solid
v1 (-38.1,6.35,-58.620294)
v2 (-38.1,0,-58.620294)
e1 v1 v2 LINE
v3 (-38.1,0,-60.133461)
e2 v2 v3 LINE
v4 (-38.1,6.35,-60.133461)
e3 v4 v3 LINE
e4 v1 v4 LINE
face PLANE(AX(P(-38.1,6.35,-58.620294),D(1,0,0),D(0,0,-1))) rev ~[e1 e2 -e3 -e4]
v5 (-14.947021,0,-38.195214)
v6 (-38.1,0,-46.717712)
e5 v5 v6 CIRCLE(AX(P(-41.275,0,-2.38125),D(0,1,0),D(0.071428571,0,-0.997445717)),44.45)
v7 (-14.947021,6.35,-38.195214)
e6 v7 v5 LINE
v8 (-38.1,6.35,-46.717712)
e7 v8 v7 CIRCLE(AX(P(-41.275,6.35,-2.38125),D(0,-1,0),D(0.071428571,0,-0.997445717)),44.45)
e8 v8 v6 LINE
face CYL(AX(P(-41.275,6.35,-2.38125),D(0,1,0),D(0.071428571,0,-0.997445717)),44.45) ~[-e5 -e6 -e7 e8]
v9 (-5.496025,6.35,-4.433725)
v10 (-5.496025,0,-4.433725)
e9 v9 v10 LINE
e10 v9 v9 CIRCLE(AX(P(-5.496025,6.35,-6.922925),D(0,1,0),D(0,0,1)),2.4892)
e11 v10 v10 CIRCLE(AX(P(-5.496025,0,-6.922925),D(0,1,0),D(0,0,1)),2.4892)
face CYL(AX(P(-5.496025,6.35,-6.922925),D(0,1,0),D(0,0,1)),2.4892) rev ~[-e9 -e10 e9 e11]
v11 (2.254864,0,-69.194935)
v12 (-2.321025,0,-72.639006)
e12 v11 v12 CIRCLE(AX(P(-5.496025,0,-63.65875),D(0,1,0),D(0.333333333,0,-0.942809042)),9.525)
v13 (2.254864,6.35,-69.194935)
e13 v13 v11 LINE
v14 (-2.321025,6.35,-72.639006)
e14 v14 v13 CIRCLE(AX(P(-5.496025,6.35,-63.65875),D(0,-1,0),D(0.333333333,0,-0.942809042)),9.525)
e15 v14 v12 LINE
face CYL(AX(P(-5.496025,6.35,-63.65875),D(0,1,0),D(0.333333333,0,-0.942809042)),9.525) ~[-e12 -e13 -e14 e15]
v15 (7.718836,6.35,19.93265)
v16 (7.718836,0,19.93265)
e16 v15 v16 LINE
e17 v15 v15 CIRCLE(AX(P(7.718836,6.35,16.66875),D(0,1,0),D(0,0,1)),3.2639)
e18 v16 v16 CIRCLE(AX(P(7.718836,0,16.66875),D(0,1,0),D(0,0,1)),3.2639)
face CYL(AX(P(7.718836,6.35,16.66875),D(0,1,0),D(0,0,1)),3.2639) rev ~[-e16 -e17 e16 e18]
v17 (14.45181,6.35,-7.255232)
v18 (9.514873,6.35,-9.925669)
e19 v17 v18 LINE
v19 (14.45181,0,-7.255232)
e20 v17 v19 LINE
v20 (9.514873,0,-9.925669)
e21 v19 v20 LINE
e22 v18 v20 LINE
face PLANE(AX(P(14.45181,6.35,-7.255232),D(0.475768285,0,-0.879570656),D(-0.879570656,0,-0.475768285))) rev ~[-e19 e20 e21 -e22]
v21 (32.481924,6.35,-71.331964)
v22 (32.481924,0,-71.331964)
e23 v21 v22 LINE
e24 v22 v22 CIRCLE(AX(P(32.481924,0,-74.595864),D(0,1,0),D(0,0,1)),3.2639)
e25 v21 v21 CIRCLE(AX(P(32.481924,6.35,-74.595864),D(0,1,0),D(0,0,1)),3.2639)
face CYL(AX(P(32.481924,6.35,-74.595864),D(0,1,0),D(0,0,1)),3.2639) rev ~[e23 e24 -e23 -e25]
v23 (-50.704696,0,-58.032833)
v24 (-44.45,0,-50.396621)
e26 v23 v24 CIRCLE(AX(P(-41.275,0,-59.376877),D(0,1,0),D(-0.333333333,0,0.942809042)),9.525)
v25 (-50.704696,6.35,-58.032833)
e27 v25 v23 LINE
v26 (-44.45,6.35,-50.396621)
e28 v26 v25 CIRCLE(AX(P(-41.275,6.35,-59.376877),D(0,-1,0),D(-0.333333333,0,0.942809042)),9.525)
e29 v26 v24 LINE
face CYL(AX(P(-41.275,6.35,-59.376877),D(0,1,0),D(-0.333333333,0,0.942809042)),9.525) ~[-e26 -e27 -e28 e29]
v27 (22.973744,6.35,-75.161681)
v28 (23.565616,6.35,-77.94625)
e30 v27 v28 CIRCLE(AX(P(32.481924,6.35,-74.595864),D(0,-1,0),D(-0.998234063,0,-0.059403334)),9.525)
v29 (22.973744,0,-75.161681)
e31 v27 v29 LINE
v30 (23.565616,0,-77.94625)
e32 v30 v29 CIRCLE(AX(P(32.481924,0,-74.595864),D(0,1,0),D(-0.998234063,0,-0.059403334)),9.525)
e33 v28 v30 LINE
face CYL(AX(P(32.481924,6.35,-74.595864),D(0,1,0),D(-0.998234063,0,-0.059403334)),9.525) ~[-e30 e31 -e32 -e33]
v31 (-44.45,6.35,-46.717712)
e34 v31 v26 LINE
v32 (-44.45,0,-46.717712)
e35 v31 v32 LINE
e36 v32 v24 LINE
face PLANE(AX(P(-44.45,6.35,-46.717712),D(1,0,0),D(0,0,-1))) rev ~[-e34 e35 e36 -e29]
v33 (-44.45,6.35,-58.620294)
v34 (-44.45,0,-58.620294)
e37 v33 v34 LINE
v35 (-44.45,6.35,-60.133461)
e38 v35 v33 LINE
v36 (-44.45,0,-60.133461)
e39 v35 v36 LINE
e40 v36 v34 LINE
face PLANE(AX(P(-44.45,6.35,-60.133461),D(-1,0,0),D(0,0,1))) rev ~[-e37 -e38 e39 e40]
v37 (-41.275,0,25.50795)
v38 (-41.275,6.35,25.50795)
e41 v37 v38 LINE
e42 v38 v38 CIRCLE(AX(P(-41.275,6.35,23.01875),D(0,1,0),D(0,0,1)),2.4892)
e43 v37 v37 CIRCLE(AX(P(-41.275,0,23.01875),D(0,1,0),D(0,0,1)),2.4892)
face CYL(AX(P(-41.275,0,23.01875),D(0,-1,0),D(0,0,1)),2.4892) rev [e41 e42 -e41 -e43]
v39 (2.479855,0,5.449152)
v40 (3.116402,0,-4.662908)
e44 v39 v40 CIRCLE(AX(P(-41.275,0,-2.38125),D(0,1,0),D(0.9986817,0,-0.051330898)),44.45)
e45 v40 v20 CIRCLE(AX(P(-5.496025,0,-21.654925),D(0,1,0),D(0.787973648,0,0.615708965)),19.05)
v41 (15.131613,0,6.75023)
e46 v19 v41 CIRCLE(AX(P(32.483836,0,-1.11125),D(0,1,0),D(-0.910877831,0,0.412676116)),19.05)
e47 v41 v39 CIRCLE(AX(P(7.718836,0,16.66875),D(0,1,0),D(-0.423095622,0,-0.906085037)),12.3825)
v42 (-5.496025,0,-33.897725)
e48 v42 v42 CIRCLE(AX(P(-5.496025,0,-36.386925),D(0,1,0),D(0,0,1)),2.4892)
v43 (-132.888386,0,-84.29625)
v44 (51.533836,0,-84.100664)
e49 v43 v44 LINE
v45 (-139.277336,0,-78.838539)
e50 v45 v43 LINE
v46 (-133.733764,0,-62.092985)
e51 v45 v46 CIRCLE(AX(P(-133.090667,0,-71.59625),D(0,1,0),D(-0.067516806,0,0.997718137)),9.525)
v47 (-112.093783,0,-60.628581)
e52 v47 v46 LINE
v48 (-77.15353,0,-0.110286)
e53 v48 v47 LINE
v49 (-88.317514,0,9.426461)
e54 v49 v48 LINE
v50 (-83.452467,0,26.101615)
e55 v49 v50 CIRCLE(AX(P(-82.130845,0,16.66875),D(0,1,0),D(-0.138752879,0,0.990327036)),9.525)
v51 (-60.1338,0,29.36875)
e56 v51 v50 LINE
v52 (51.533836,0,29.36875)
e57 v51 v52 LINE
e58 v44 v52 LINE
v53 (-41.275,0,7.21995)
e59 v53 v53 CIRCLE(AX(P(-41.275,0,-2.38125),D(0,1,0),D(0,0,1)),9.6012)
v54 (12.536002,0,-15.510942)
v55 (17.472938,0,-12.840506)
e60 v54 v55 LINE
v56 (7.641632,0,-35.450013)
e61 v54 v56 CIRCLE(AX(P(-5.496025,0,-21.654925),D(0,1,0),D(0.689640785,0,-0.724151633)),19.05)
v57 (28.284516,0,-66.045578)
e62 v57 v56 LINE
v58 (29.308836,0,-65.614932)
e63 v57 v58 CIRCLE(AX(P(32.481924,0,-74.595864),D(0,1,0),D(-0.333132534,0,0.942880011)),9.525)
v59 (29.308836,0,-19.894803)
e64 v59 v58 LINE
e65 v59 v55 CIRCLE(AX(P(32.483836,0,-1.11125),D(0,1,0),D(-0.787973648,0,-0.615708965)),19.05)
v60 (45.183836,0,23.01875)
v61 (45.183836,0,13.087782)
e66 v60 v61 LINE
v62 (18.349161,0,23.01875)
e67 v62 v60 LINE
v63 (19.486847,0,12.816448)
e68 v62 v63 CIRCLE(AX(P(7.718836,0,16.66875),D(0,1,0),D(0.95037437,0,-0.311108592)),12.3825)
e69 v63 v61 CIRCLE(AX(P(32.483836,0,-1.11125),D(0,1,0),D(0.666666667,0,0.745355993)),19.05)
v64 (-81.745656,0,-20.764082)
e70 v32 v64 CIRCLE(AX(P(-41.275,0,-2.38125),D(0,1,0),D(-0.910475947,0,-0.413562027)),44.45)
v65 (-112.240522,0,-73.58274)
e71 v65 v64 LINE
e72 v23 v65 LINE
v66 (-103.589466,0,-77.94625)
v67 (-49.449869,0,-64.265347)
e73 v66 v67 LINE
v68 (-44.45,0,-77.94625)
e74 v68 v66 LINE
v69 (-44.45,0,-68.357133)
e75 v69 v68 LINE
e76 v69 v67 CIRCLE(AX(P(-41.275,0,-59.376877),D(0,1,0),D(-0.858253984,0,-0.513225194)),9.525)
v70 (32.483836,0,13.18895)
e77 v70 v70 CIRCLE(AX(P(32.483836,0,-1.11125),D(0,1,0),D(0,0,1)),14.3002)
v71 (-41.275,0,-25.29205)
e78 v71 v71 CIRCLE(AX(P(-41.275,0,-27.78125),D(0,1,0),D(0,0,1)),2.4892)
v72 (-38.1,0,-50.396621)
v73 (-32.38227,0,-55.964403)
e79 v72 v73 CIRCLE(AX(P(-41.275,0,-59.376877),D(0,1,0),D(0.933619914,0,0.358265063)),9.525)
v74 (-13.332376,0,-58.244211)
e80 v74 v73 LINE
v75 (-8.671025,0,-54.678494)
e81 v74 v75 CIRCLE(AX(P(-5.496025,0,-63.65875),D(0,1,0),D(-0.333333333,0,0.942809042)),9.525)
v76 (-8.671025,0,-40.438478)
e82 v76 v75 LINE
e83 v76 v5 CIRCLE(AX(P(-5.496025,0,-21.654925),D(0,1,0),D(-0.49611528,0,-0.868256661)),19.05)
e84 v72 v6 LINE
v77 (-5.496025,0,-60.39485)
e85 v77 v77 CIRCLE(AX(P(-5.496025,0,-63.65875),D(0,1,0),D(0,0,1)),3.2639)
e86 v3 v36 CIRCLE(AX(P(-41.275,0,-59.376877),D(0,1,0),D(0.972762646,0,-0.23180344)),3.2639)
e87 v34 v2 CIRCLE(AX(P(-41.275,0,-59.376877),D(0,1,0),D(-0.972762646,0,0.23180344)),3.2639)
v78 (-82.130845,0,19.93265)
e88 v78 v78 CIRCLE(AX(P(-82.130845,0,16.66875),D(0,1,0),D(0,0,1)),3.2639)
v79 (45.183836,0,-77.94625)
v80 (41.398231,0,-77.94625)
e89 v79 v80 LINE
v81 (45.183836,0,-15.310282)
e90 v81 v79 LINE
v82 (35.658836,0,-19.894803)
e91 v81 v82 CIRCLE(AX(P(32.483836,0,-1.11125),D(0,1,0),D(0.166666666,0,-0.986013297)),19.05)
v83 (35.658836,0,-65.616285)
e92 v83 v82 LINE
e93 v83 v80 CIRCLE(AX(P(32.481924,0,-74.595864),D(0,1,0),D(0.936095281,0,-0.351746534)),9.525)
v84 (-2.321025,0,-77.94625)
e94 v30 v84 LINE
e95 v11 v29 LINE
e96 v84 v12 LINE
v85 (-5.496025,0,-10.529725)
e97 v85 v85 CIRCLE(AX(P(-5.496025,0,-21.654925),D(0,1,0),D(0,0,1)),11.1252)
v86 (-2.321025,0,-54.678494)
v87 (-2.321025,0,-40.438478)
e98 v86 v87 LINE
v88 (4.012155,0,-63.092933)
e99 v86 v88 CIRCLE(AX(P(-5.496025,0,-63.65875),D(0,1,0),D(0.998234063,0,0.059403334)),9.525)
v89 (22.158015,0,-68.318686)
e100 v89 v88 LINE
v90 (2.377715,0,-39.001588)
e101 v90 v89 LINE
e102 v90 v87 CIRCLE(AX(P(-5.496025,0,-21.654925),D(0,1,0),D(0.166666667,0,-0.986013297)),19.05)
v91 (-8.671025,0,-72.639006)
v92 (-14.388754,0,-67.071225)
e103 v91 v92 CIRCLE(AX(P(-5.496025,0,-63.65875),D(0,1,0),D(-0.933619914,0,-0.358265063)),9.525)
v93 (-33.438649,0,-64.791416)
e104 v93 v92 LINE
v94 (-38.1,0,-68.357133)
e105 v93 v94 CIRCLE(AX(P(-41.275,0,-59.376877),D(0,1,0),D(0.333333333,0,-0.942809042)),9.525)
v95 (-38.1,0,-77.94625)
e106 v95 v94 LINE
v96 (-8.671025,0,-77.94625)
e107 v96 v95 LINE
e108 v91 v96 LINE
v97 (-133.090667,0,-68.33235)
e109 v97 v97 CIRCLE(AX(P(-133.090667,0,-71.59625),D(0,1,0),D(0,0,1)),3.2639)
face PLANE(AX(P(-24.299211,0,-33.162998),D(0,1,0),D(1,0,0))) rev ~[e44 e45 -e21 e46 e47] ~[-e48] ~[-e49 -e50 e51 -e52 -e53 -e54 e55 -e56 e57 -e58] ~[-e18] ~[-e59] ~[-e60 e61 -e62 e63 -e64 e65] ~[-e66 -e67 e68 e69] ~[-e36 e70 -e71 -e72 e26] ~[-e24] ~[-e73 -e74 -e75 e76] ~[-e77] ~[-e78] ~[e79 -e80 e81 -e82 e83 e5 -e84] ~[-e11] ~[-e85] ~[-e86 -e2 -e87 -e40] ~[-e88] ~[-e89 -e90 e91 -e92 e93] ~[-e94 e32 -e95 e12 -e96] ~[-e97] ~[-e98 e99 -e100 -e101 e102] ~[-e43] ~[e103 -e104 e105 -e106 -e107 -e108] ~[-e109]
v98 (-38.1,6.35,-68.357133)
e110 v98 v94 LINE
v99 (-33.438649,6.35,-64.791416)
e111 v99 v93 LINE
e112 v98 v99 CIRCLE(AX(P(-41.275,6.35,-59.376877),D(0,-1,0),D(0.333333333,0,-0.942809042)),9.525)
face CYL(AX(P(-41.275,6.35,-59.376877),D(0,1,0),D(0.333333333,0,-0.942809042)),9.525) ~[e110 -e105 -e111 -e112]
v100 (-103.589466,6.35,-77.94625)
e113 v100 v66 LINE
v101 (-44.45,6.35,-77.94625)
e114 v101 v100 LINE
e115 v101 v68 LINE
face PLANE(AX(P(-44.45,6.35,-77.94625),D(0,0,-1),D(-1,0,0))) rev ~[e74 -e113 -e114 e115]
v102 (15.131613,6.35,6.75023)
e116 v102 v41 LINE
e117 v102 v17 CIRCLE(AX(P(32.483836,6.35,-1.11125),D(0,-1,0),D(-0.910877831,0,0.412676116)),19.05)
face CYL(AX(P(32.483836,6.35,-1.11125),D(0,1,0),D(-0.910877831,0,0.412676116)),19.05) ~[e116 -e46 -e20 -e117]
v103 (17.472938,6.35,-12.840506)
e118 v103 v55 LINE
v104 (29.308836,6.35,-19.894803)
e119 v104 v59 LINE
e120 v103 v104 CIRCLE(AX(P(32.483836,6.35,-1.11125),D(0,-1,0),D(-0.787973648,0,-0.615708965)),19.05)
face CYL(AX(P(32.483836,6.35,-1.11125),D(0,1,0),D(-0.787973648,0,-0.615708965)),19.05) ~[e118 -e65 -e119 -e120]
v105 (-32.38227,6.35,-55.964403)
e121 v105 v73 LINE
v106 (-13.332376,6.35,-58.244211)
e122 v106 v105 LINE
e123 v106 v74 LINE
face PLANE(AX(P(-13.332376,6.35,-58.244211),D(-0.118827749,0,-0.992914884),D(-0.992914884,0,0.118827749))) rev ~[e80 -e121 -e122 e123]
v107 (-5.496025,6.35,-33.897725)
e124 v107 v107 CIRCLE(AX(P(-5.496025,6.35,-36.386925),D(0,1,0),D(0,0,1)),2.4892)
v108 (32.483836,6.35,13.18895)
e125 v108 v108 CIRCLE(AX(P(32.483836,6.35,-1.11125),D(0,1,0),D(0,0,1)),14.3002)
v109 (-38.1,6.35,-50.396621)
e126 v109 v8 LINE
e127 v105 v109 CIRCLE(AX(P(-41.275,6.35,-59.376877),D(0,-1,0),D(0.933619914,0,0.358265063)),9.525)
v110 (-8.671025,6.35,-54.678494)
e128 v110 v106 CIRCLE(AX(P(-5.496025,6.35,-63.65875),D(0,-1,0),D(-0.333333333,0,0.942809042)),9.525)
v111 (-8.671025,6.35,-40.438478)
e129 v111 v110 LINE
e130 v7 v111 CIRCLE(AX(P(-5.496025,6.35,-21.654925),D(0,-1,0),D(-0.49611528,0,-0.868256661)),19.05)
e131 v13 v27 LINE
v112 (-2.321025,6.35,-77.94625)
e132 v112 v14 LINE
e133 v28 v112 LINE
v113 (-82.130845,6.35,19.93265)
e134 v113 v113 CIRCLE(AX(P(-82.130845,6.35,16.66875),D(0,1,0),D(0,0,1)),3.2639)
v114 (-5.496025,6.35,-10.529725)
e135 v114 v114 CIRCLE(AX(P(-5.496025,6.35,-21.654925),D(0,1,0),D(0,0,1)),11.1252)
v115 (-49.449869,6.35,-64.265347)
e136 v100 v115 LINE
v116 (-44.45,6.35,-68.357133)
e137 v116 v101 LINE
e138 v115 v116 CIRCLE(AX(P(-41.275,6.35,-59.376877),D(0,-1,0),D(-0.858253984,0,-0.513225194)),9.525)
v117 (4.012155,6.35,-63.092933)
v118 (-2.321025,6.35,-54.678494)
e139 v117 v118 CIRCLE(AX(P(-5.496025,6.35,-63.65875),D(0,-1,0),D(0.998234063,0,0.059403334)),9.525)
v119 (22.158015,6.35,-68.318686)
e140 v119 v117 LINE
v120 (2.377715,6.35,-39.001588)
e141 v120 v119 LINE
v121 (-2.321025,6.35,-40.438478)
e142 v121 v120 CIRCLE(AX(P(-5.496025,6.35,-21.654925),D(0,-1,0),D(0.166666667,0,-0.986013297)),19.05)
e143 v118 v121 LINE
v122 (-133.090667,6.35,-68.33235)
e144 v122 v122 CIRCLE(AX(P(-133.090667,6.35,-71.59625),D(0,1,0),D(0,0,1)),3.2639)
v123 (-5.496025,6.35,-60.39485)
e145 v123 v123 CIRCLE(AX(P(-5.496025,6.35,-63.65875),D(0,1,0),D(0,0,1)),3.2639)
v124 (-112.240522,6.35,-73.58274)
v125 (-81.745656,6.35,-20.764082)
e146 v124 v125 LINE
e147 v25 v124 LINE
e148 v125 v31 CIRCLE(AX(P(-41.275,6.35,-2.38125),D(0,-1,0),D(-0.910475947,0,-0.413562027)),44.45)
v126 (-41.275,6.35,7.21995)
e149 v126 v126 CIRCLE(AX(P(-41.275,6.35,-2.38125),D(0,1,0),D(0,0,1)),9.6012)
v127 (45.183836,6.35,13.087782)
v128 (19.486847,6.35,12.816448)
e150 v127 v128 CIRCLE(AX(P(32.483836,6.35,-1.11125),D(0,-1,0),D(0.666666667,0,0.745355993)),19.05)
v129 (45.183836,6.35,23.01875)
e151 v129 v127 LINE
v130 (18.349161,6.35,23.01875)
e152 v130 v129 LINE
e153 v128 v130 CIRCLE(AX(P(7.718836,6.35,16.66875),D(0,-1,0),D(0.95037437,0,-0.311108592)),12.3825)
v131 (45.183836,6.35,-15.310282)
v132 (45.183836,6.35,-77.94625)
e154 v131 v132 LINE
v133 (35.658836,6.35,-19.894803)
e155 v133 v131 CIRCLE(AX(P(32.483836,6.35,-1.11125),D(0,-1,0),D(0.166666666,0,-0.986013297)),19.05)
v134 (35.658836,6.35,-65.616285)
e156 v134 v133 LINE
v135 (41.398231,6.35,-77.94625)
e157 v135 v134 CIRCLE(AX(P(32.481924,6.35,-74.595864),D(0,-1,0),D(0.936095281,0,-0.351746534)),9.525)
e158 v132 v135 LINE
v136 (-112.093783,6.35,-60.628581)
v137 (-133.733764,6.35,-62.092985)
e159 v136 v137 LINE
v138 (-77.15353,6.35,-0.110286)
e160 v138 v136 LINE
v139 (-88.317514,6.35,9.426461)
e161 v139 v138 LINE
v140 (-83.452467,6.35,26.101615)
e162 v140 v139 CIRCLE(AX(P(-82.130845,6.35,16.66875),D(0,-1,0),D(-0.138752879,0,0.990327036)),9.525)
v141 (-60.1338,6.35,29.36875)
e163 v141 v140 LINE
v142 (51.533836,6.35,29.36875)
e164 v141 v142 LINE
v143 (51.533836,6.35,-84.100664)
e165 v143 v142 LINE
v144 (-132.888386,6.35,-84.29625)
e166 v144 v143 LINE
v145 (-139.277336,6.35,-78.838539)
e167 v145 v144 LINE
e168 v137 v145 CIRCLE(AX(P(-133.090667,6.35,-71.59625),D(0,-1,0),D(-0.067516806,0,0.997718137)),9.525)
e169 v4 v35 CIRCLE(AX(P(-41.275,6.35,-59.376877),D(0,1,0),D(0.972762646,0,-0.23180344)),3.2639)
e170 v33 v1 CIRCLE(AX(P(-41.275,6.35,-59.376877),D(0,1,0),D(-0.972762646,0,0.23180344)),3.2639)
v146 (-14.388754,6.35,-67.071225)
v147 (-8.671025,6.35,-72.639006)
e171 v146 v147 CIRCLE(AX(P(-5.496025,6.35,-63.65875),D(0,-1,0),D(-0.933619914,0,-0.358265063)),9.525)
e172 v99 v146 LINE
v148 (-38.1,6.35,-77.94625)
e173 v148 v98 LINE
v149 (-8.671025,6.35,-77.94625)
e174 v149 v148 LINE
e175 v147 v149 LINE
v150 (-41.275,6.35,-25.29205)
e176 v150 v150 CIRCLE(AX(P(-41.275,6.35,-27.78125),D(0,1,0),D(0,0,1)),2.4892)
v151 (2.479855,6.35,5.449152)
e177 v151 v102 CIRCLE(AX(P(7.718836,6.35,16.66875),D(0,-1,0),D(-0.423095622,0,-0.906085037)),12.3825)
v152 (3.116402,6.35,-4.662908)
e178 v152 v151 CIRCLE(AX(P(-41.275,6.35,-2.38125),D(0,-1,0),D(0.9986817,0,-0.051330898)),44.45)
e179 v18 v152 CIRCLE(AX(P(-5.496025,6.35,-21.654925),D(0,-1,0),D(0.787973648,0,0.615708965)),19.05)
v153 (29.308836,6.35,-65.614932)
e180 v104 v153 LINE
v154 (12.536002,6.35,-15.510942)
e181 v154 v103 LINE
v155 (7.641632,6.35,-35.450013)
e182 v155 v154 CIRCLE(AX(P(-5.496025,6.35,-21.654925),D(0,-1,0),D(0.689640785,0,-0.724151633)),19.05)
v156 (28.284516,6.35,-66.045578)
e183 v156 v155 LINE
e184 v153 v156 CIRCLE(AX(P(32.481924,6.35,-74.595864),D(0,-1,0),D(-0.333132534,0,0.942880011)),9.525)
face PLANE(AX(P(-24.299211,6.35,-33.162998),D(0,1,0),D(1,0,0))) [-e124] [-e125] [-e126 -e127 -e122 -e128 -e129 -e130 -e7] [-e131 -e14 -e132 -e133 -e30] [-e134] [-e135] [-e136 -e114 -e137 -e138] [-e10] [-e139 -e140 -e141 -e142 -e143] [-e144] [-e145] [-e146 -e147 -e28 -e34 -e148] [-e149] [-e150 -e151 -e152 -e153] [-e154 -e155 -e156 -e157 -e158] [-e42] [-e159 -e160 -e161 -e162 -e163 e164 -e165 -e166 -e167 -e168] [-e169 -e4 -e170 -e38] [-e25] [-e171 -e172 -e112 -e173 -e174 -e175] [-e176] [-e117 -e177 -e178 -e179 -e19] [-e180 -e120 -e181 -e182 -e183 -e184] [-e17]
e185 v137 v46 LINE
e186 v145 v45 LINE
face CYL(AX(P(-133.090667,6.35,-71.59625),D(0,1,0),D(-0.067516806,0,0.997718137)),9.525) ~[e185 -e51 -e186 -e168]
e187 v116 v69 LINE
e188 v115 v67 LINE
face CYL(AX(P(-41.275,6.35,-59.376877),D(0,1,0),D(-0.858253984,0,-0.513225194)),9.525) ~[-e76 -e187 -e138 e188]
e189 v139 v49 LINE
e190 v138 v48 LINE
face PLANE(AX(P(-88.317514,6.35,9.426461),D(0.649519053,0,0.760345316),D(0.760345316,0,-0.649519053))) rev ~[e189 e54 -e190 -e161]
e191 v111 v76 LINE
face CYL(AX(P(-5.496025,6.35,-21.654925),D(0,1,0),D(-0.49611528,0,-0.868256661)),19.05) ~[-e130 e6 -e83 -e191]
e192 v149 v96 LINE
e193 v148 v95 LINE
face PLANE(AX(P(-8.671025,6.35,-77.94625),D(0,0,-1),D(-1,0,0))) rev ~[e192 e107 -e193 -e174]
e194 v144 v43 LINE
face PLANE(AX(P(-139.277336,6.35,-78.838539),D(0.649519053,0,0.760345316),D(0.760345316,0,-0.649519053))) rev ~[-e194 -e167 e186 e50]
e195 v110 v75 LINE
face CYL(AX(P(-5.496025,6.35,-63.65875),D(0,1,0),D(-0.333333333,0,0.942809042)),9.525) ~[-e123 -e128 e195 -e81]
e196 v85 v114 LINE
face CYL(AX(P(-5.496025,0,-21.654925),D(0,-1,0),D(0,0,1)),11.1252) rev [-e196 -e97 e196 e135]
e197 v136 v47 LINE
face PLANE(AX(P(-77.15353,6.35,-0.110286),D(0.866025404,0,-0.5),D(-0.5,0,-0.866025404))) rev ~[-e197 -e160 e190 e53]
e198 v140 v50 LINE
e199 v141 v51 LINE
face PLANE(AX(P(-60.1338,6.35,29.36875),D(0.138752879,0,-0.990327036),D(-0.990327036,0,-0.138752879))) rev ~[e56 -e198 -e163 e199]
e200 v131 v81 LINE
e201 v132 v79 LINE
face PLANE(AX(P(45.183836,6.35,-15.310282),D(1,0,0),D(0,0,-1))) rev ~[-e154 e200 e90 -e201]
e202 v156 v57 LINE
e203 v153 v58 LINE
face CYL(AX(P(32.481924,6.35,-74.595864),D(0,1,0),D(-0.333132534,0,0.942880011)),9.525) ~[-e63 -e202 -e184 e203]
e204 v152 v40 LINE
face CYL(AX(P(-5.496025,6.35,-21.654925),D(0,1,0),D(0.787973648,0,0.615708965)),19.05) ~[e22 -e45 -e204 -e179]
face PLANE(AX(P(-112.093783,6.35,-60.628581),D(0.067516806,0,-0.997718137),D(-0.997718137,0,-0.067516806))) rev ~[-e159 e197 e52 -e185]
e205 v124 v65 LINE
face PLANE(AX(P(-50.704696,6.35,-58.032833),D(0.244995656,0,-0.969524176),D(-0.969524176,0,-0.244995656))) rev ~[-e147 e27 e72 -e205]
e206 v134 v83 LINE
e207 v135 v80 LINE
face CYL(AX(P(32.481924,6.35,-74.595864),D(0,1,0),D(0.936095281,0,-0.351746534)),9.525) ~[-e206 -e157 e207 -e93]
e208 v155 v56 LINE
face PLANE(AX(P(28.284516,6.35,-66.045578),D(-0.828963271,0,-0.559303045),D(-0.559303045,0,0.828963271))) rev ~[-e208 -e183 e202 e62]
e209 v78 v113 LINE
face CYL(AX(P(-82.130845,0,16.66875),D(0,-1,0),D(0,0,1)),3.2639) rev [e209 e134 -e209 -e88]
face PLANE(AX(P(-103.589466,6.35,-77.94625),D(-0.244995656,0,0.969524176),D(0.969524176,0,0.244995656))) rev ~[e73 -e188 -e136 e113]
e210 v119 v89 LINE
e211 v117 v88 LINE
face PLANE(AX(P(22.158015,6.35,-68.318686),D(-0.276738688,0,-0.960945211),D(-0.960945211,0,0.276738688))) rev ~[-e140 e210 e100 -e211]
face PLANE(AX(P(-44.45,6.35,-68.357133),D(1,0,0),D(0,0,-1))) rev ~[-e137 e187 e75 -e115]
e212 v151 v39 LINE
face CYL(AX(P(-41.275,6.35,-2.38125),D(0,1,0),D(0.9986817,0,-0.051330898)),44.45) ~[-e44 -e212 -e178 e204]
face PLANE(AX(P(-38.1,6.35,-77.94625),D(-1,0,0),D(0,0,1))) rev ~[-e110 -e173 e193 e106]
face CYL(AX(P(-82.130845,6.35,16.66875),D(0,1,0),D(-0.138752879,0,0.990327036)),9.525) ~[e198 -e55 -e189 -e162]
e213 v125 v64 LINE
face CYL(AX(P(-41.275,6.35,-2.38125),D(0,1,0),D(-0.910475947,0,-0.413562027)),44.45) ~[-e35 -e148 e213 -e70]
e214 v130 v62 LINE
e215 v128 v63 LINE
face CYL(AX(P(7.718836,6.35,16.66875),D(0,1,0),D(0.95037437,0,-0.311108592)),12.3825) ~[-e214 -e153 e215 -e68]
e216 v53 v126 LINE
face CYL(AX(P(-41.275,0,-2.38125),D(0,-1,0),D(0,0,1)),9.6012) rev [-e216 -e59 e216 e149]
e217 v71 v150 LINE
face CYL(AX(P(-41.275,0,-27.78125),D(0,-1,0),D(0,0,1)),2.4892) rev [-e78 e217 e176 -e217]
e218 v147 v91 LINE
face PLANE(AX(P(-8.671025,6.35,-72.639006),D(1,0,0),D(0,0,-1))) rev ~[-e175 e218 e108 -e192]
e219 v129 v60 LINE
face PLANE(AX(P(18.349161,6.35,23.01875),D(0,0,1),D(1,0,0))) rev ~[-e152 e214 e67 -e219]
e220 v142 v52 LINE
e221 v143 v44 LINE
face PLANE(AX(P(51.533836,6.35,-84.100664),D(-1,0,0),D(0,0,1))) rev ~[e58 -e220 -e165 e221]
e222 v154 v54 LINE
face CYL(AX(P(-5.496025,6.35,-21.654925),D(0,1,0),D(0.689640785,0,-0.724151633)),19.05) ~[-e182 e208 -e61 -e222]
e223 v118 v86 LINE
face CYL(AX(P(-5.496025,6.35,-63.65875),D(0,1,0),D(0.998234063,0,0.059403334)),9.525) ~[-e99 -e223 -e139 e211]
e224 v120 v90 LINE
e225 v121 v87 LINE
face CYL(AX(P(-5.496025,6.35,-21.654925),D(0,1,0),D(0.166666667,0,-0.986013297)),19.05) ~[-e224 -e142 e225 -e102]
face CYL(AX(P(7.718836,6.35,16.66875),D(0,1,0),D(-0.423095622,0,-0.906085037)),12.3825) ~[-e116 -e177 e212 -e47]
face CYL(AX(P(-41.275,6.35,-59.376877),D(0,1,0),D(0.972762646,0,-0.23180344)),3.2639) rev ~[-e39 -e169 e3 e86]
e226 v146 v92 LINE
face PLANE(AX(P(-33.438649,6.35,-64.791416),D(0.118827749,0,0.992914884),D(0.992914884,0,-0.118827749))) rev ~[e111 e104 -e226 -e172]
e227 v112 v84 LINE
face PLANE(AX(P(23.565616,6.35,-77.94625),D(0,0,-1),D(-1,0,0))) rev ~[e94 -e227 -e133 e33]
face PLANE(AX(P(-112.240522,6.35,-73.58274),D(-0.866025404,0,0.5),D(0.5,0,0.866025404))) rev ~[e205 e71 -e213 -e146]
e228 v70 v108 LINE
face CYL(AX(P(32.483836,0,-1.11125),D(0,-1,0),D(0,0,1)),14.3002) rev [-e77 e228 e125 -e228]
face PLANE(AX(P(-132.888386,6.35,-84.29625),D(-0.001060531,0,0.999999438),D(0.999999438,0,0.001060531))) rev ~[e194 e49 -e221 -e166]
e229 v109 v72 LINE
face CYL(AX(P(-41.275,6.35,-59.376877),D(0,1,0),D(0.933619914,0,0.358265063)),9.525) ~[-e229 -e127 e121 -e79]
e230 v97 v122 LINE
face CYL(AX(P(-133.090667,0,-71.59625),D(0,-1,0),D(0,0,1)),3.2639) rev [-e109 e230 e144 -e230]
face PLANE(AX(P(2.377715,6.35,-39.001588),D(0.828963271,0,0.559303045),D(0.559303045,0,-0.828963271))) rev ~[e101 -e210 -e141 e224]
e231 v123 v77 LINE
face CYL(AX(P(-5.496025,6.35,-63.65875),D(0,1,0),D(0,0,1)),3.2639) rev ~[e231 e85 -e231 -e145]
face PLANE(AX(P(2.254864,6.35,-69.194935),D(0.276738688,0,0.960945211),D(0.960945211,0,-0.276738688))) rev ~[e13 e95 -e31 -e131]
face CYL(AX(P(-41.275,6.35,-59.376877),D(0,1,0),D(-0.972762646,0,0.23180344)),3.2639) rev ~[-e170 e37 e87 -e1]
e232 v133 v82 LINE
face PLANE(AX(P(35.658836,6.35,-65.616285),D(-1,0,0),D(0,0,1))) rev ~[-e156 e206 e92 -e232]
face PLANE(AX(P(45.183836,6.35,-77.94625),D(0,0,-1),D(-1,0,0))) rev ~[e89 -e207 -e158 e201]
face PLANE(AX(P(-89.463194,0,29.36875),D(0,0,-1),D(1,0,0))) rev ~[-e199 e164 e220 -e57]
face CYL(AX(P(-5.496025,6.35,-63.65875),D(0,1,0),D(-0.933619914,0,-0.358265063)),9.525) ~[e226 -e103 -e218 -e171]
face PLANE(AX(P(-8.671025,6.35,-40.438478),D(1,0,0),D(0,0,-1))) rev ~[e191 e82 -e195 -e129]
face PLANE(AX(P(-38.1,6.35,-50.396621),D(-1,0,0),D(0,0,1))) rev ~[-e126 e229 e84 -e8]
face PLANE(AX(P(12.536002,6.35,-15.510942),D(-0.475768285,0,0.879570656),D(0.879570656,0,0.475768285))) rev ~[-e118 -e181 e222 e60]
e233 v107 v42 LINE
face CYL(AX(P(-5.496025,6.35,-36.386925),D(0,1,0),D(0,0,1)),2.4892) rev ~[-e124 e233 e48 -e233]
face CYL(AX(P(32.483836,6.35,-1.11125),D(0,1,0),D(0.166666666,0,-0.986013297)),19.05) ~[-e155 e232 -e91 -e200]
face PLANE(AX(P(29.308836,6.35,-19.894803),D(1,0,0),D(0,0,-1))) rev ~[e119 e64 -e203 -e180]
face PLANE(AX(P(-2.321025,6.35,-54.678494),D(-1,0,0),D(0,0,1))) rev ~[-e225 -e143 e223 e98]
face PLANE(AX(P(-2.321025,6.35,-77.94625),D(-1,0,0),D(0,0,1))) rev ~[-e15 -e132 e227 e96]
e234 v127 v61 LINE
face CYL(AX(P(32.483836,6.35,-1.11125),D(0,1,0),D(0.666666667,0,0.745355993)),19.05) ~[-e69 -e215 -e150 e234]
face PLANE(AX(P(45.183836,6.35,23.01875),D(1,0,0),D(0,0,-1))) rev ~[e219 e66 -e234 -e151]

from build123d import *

# Parameters (mm, degrees)
SKETCH2_R           = 9.6012
SKETCH2_R_2         = 2.4892
SKETCH2_R_3         = 3.2639
SKETCH2_R_4         = 11.1252
SKETCH2_R_5         = 14.3002
SKETCH2_R_6         = 2.413
BOSS_EXTRUDE1_DEPTH = 6.35
SKETCH3_R           = 3.2639
SKETCH3_R_2         = 2.413
SKETCH3_R_3         = 2.4892
CUT_EXTRUDE1_DEPTH  = 177.630627937


with BuildPart() as part:
    # Sketch2 → Boss-Extrude1 (new body)
    with BuildSketch(Plane(origin=(0, 0, 0), x_dir=(1, 0, 0), z_dir=(0, 1, 0))):
        Polygon((-155.087712155, 84.29625), (-89.463193808, -29.36875), (82.46904885, -29.36875), (82.46904885, 84.29625), align=None)
        with Locations(Location((-41.275, 2.38125, 0), (0, 0, 270))):
            Circle(SKETCH2_R, mode=Mode.SUBTRACT)
        with Locations(Location((-41.275, 27.78125, 0), (0, 0, 270))):
            Circle(SKETCH2_R_2, mode=Mode.SUBTRACT)
        with Locations(Location((-41.275, -23.01875, 0), (0, 0, 270))):
            Circle(SKETCH2_R_2, mode=Mode.SUBTRACT)
        with Locations(Location((-82.130845389, -16.66875, 0), (0, 0, 270))):
            Circle(SKETCH2_R_3, mode=Mode.SUBTRACT)
        with Locations(Location((-133.090666899, 71.59625, 0), (0, 0, 270))):
            Circle(SKETCH2_R_3, mode=Mode.SUBTRACT)
        with Locations(Location((-5.496024757, 21.654924548, 0), (0, 0, 270))):
            Circle(SKETCH2_R_4, mode=Mode.SUBTRACT)
        with Locations(Location((32.48383617, 1.11125, 0), (0, 0, 270))):
            Circle(SKETCH2_R_5, mode=Mode.SUBTRACT)
        with Locations(Location((61.774869917, 67.406835627, 0), (0, 0, 270))):
            Circle(SKETCH2_R_6, mode=Mode.SUBTRACT)
        with Locations(Location((76.11904885, -23.01875, 0), (0, 0, 270))):
            Circle(SKETCH2_R_3, mode=Mode.SUBTRACT)
    extrude(amount=BOSS_EXTRUDE1_DEPTH)

    # Sketch3 → Cut-Extrude1 (cut, through all)
    # profile 1 of 18: a face of its own
    with BuildSketch(Plane(origin=(0, 6.35, 0), x_dir=(1, 0, 0), z_dir=(0, 1, 0))):
        with BuildLine():
            Line((-50.704696238, 58.032833483), (-112.240521983, 73.58273966))
            Line((-112.240521983, 73.58273966), (-81.745655831, 20.764082115))
            ThreePointArc((-81.745655831, 20.764082115), (-66.664634619, 38.866438144), (-44.45, 46.717712139))
            Line((-44.45, 46.717712139), (-44.45, 50.396621207))
            ThreePointArc((-44.45, 50.396621207), (-48.64368552, 53.341307868), (-50.704696238, 58.032833483))
        make_face()
    # profile 2 of 18: a face of its own
    with BuildSketch(Plane(origin=(0, 6.35, 0), x_dir=(1, 0, 0), z_dir=(0, 1, 0))):
        with BuildLine():
            Line((-38.1, 50.396621207), (-38.1, 46.717712139))
            ThreePointArc((-38.1, 46.717712139), (-25.920369141, 44.095010454), (-14.947020834, 38.195213939))
            ThreePointArc((-14.947020834, 38.195213939), (-11.907888955, 39.593444485), (-8.671024757, 40.438477859))
            Line((-8.671024757, 40.438477859), (-8.671024757, 54.678493879))
            ThreePointArc((-8.671024757, 54.678493879), (-11.283169826, 56.093396277), (-13.332375749, 58.244211411))
            Line((-13.332375749, 58.244211411), (-32.382270315, 55.964402602))
            ThreePointArc((-32.382270315, 55.964402602), (-34.629883571, 52.552798441), (-38.1, 50.396621207))
        make_face()
    # profile 3 of 18: a face of its own
    with BuildSketch(Plane(origin=(0, 6.35, 0), x_dir=(1, 0, 0), z_dir=(0, 1, 0))):
        with BuildLine():
            ThreePointArc((-133.733764479, 62.092984745), (-142.13305739, 68.602790594), (-139.277335877, 78.838539138))
            Line((-139.277335877, 78.838539138), (-132.888385663, 84.29625))
            Line((-132.888385663, 84.29625), (-155.087712155, 84.29625))
            Line((-155.087712155, 84.29625), (-89.463193808, -29.36875))
            Line((-89.463193808, -29.36875), (-60.133800133, -29.36875))
            Line((-60.133800133, -29.36875), (-83.452466562, -26.101615019))
            ThreePointArc((-83.452466562, -26.101615019), (-91.274629988, -19.336488408), (-88.317514367, -9.426460862))
            Line((-88.317514367, -9.426460862), (-77.153529536, 0.110286058))
            Line((-77.153529536, 0.110286058), (-112.093783272, 60.628580757))
            Line((-112.093783272, 60.628580757), (-133.733764479, 62.092984745))
        make_face()
    # profile 4 of 18: a face of its own
    with BuildSketch(Plane(origin=(0, 6.35, 0), x_dir=(1, 0, 0), z_dir=(0, 1, 0))):
        Polygon((82.46904885, 84.29625), (-132.888385663, 84.29625), (51.53383617, 84.100664467), (51.53383617, -29.36875), (82.46904885, -29.36875), align=None)
        with Locations((76.11904885, -23.01875)):
            Circle(SKETCH3_R, mode=Mode.SUBTRACT)
        with Locations((61.774869917, 67.406835627)):
            Circle(SKETCH3_R_2, mode=Mode.SUBTRACT)
    # profile 5 of 18: a face of its own
    with BuildSketch(Plane(origin=(0, 6.35, 0), x_dir=(1, 0, 0), z_dir=(0, 1, 0))):
        with BuildLine():
            Line((45.18383617, 15.310281657), (45.18383617, 77.94625))
            Line((45.18383617, 77.94625), (41.398231111, 77.94625))
            ThreePointArc((41.398231111, 77.94625), (41.117229303, 70.57627228), (35.65883617, 65.616284578))
            Line((35.65883617, 65.616284578), (35.65883617, 19.894803311))
            ThreePointArc((35.65883617, 19.894803311), (40.745698306, 18.276451253), (45.18383617, 15.310281657))
        make_face()
    # profile 6 of 18: a face of its own
    with BuildSketch(Plane(origin=(0, 6.35, 0), x_dir=(1, 0, 0), z_dir=(0, 1, 0))):
        with BuildLine():
            Line((-44.45, 77.94625), (-103.5894656, 77.94625))
            Line((-103.5894656, 77.94625), (-49.449869194, 64.2653473))
            ThreePointArc((-49.449869194, 64.2653473), (-47.307458964, 66.748109508), (-44.45, 68.357133449))
            Line((-44.45, 68.357133449), (-44.45, 77.94625))
        make_face()
    # profile 7 of 18: a face of its own
    with BuildSketch(Plane(origin=(0, 6.35, 0), x_dir=(1, 0, 0), z_dir=(0, 1, 0))):
        with BuildLine():
            Line((-8.671024757, 77.94625), (-38.1, 77.94625))
            Line((-38.1, 77.94625), (-38.1, 68.357133449))
            ThreePointArc((-38.1, 68.357133449), (-35.487854931, 66.942231051), (-33.438649008, 64.791415916))
            Line((-33.438649008, 64.791415916), (-14.388754442, 67.071224726))
            ThreePointArc((-14.388754442, 67.071224726), (-12.141141186, 70.482828886), (-8.671024757, 72.639006121))
            Line((-8.671024757, 72.639006121), (-8.671024757, 77.94625))
        make_face()
    # profile 8 of 18: a face of its own
    with BuildSketch(Plane(origin=(0, 6.35, 0), x_dir=(1, 0, 0), z_dir=(0, 1, 0))):
        with BuildLine():
            Line((-2.321024757, 54.678493879), (-2.321024757, 40.438477859))
            ThreePointArc((-2.321024757, 40.438477859), (0.074866406, 39.872160113), (2.377715421, 39.001587501))
            Line((2.377715421, 39.001587501), (22.15801549, 68.318685604))
            Line((22.15801549, 68.318685604), (4.01215469, 63.092933247))
            ThreePointArc((4.01215469, 63.092933247), (2.114261551, 57.93082129), (-2.321024757, 54.678493879))
        make_face()
    # profile 9 of 18: a face of its own
    with BuildSketch(Plane(origin=(0, 6.35, 0), x_dir=(1, 0, 0), z_dir=(0, 1, 0))):
        with BuildLine():
            ThreePointArc((7.641632189, 35.450013166), (13.004757083, 26.196242782), (12.536001856, 15.510942435))
            Line((12.536001856, 15.510942435), (17.472938166, 12.840505779))
            ThreePointArc((17.472938166, 12.840505779), (22.730759734, 17.475234846), (29.30883617, 19.894803311))
            Line((29.30883617, 19.894803311), (29.30883617, 65.614932157))
            ThreePointArc((29.30883617, 65.614932157), (28.790391012, 65.815305481), (28.284516096, 66.045577972))
            Line((28.284516096, 66.045577972), (7.641632189, 35.450013166))
        make_face()
    # profile 10 of 18: a face of its own
    with BuildSketch(Plane(origin=(0, 6.35, 0), x_dir=(1, 0, 0), z_dir=(0, 1, 0))):
        with BuildLine():
            Line((14.451809556, 7.255232113), (9.514873246, 9.925668769))
            ThreePointArc((9.514873246, 9.925668769), (6.605195221, 6.942243792), (3.116401587, 4.662908409))
            ThreePointArc((3.116401587, 4.662908409), (3.08719182, -0.411318161), (2.479854635, -5.449152025))
            ThreePointArc((2.479854635, -5.449152025), (8.985543719, -4.351211356), (15.13161349, -6.750230017))
            ThreePointArc((15.13161349, -6.750230017), (13.456237349, 0.187679153), (14.451809556, 7.255232113))
        make_face()
    # profile 11 of 18: a face of its own
    with BuildSketch(Plane(origin=(0, 6.35, 0), x_dir=(1, 0, 0), z_dir=(0, 1, 0))):
        with BuildLine():
            ThreePointArc((-38.1, 60.133460575), (-41.275, 62.640777328), (-44.45, 60.133460575))
            Line((-44.45, 60.133460575), (-44.45, 58.62029408))
            ThreePointArc((-44.45, 58.62029408), (-41.275, 56.112977328), (-38.1, 58.62029408))
            Line((-38.1, 58.62029408), (-38.1, 60.133460575))
        make_face()
    # profile 12 of 18: a face of its own
    with BuildSketch(Plane(origin=(0, 6.35, 0), x_dir=(1, 0, 0), z_dir=(0, 1, 0))):
        with BuildLine():
            ThreePointArc((-2.321024757, 72.639006121), (0.231903953, 71.269036308), (2.254864024, 69.194935338))
            Line((2.254864024, 69.194935338), (22.97374411, 75.161681012))
            ThreePointArc((22.97374411, 75.161681012), (23.165063227, 76.576202255), (23.565616004, 77.94625))
            Line((23.565616004, 77.94625), (-2.321024757, 77.94625))
            Line((-2.321024757, 77.94625), (-2.321024757, 72.639006121))
        make_face()
    # profile 13 of 18: a face of its own
    with BuildSketch(Plane(origin=(0, 6.35, 0), x_dir=(1, 0, 0), z_dir=(0, 1, 0))):
        with BuildLine():
            Line((18.349161012, -23.01875), (45.18383617, -23.01875))
            Line((45.18383617, -23.01875), (45.18383617, -13.087781657))
            ThreePointArc((45.18383617, -13.087781657), (32.282698959, -17.937688128), (19.486846811, -12.816447857))
            ThreePointArc((19.486846811, -12.816447857), (20.025058188, -18.04104949), (18.349161012, -23.01875))
        make_face()
    # profile 14 of 18: a face of its own
    with BuildSketch(Plane(origin=(0, 6.35, 0), x_dir=(1, 0, 0), z_dir=(0, 1, 0))):
        with Locations(Location((32.481923558, 74.59586426, 0), (0, 0, 270))):
            Circle(SKETCH3_R)
    # profile 15 of 18: a face of its own
    with BuildSketch(Plane(origin=(0, 6.35, 0), x_dir=(1, 0, 0), z_dir=(0, 1, 0))):
        with Locations(Location((-5.496024757, 63.65875, 0), (0, 0, 270))):
            Circle(SKETCH3_R)
    # profile 16 of 18: a face of its own
    with BuildSketch(Plane(origin=(0, 6.35, 0), x_dir=(1, 0, 0), z_dir=(0, 1, 0))):
        with Locations(Location((7.71883617, -16.66875, 0), (0, 0, 270))):
            Circle(SKETCH3_R)
    # profile 17 of 18: a face of its own
    with BuildSketch(Plane(origin=(0, 6.35, 0), x_dir=(1, 0, 0), z_dir=(0, 1, 0))):
        with Locations(Location((-5.496024757, 36.386924548, 0), (0, 0, 270))):
            Circle(SKETCH3_R_3)
    # profile 18 of 18: a face of its own
    with BuildSketch(Plane(origin=(0, 6.35, 0), x_dir=(1, 0, 0), z_dir=(0, 1, 0))):
        with Locations(Location((-5.496024757, 6.922924548, 0), (0, 0, 270))):
            Circle(SKETCH3_R_3)
    extrude(amount=-CUT_EXTRUDE1_DEPTH, mode=Mode.SUBTRACT)


solid = part.part
